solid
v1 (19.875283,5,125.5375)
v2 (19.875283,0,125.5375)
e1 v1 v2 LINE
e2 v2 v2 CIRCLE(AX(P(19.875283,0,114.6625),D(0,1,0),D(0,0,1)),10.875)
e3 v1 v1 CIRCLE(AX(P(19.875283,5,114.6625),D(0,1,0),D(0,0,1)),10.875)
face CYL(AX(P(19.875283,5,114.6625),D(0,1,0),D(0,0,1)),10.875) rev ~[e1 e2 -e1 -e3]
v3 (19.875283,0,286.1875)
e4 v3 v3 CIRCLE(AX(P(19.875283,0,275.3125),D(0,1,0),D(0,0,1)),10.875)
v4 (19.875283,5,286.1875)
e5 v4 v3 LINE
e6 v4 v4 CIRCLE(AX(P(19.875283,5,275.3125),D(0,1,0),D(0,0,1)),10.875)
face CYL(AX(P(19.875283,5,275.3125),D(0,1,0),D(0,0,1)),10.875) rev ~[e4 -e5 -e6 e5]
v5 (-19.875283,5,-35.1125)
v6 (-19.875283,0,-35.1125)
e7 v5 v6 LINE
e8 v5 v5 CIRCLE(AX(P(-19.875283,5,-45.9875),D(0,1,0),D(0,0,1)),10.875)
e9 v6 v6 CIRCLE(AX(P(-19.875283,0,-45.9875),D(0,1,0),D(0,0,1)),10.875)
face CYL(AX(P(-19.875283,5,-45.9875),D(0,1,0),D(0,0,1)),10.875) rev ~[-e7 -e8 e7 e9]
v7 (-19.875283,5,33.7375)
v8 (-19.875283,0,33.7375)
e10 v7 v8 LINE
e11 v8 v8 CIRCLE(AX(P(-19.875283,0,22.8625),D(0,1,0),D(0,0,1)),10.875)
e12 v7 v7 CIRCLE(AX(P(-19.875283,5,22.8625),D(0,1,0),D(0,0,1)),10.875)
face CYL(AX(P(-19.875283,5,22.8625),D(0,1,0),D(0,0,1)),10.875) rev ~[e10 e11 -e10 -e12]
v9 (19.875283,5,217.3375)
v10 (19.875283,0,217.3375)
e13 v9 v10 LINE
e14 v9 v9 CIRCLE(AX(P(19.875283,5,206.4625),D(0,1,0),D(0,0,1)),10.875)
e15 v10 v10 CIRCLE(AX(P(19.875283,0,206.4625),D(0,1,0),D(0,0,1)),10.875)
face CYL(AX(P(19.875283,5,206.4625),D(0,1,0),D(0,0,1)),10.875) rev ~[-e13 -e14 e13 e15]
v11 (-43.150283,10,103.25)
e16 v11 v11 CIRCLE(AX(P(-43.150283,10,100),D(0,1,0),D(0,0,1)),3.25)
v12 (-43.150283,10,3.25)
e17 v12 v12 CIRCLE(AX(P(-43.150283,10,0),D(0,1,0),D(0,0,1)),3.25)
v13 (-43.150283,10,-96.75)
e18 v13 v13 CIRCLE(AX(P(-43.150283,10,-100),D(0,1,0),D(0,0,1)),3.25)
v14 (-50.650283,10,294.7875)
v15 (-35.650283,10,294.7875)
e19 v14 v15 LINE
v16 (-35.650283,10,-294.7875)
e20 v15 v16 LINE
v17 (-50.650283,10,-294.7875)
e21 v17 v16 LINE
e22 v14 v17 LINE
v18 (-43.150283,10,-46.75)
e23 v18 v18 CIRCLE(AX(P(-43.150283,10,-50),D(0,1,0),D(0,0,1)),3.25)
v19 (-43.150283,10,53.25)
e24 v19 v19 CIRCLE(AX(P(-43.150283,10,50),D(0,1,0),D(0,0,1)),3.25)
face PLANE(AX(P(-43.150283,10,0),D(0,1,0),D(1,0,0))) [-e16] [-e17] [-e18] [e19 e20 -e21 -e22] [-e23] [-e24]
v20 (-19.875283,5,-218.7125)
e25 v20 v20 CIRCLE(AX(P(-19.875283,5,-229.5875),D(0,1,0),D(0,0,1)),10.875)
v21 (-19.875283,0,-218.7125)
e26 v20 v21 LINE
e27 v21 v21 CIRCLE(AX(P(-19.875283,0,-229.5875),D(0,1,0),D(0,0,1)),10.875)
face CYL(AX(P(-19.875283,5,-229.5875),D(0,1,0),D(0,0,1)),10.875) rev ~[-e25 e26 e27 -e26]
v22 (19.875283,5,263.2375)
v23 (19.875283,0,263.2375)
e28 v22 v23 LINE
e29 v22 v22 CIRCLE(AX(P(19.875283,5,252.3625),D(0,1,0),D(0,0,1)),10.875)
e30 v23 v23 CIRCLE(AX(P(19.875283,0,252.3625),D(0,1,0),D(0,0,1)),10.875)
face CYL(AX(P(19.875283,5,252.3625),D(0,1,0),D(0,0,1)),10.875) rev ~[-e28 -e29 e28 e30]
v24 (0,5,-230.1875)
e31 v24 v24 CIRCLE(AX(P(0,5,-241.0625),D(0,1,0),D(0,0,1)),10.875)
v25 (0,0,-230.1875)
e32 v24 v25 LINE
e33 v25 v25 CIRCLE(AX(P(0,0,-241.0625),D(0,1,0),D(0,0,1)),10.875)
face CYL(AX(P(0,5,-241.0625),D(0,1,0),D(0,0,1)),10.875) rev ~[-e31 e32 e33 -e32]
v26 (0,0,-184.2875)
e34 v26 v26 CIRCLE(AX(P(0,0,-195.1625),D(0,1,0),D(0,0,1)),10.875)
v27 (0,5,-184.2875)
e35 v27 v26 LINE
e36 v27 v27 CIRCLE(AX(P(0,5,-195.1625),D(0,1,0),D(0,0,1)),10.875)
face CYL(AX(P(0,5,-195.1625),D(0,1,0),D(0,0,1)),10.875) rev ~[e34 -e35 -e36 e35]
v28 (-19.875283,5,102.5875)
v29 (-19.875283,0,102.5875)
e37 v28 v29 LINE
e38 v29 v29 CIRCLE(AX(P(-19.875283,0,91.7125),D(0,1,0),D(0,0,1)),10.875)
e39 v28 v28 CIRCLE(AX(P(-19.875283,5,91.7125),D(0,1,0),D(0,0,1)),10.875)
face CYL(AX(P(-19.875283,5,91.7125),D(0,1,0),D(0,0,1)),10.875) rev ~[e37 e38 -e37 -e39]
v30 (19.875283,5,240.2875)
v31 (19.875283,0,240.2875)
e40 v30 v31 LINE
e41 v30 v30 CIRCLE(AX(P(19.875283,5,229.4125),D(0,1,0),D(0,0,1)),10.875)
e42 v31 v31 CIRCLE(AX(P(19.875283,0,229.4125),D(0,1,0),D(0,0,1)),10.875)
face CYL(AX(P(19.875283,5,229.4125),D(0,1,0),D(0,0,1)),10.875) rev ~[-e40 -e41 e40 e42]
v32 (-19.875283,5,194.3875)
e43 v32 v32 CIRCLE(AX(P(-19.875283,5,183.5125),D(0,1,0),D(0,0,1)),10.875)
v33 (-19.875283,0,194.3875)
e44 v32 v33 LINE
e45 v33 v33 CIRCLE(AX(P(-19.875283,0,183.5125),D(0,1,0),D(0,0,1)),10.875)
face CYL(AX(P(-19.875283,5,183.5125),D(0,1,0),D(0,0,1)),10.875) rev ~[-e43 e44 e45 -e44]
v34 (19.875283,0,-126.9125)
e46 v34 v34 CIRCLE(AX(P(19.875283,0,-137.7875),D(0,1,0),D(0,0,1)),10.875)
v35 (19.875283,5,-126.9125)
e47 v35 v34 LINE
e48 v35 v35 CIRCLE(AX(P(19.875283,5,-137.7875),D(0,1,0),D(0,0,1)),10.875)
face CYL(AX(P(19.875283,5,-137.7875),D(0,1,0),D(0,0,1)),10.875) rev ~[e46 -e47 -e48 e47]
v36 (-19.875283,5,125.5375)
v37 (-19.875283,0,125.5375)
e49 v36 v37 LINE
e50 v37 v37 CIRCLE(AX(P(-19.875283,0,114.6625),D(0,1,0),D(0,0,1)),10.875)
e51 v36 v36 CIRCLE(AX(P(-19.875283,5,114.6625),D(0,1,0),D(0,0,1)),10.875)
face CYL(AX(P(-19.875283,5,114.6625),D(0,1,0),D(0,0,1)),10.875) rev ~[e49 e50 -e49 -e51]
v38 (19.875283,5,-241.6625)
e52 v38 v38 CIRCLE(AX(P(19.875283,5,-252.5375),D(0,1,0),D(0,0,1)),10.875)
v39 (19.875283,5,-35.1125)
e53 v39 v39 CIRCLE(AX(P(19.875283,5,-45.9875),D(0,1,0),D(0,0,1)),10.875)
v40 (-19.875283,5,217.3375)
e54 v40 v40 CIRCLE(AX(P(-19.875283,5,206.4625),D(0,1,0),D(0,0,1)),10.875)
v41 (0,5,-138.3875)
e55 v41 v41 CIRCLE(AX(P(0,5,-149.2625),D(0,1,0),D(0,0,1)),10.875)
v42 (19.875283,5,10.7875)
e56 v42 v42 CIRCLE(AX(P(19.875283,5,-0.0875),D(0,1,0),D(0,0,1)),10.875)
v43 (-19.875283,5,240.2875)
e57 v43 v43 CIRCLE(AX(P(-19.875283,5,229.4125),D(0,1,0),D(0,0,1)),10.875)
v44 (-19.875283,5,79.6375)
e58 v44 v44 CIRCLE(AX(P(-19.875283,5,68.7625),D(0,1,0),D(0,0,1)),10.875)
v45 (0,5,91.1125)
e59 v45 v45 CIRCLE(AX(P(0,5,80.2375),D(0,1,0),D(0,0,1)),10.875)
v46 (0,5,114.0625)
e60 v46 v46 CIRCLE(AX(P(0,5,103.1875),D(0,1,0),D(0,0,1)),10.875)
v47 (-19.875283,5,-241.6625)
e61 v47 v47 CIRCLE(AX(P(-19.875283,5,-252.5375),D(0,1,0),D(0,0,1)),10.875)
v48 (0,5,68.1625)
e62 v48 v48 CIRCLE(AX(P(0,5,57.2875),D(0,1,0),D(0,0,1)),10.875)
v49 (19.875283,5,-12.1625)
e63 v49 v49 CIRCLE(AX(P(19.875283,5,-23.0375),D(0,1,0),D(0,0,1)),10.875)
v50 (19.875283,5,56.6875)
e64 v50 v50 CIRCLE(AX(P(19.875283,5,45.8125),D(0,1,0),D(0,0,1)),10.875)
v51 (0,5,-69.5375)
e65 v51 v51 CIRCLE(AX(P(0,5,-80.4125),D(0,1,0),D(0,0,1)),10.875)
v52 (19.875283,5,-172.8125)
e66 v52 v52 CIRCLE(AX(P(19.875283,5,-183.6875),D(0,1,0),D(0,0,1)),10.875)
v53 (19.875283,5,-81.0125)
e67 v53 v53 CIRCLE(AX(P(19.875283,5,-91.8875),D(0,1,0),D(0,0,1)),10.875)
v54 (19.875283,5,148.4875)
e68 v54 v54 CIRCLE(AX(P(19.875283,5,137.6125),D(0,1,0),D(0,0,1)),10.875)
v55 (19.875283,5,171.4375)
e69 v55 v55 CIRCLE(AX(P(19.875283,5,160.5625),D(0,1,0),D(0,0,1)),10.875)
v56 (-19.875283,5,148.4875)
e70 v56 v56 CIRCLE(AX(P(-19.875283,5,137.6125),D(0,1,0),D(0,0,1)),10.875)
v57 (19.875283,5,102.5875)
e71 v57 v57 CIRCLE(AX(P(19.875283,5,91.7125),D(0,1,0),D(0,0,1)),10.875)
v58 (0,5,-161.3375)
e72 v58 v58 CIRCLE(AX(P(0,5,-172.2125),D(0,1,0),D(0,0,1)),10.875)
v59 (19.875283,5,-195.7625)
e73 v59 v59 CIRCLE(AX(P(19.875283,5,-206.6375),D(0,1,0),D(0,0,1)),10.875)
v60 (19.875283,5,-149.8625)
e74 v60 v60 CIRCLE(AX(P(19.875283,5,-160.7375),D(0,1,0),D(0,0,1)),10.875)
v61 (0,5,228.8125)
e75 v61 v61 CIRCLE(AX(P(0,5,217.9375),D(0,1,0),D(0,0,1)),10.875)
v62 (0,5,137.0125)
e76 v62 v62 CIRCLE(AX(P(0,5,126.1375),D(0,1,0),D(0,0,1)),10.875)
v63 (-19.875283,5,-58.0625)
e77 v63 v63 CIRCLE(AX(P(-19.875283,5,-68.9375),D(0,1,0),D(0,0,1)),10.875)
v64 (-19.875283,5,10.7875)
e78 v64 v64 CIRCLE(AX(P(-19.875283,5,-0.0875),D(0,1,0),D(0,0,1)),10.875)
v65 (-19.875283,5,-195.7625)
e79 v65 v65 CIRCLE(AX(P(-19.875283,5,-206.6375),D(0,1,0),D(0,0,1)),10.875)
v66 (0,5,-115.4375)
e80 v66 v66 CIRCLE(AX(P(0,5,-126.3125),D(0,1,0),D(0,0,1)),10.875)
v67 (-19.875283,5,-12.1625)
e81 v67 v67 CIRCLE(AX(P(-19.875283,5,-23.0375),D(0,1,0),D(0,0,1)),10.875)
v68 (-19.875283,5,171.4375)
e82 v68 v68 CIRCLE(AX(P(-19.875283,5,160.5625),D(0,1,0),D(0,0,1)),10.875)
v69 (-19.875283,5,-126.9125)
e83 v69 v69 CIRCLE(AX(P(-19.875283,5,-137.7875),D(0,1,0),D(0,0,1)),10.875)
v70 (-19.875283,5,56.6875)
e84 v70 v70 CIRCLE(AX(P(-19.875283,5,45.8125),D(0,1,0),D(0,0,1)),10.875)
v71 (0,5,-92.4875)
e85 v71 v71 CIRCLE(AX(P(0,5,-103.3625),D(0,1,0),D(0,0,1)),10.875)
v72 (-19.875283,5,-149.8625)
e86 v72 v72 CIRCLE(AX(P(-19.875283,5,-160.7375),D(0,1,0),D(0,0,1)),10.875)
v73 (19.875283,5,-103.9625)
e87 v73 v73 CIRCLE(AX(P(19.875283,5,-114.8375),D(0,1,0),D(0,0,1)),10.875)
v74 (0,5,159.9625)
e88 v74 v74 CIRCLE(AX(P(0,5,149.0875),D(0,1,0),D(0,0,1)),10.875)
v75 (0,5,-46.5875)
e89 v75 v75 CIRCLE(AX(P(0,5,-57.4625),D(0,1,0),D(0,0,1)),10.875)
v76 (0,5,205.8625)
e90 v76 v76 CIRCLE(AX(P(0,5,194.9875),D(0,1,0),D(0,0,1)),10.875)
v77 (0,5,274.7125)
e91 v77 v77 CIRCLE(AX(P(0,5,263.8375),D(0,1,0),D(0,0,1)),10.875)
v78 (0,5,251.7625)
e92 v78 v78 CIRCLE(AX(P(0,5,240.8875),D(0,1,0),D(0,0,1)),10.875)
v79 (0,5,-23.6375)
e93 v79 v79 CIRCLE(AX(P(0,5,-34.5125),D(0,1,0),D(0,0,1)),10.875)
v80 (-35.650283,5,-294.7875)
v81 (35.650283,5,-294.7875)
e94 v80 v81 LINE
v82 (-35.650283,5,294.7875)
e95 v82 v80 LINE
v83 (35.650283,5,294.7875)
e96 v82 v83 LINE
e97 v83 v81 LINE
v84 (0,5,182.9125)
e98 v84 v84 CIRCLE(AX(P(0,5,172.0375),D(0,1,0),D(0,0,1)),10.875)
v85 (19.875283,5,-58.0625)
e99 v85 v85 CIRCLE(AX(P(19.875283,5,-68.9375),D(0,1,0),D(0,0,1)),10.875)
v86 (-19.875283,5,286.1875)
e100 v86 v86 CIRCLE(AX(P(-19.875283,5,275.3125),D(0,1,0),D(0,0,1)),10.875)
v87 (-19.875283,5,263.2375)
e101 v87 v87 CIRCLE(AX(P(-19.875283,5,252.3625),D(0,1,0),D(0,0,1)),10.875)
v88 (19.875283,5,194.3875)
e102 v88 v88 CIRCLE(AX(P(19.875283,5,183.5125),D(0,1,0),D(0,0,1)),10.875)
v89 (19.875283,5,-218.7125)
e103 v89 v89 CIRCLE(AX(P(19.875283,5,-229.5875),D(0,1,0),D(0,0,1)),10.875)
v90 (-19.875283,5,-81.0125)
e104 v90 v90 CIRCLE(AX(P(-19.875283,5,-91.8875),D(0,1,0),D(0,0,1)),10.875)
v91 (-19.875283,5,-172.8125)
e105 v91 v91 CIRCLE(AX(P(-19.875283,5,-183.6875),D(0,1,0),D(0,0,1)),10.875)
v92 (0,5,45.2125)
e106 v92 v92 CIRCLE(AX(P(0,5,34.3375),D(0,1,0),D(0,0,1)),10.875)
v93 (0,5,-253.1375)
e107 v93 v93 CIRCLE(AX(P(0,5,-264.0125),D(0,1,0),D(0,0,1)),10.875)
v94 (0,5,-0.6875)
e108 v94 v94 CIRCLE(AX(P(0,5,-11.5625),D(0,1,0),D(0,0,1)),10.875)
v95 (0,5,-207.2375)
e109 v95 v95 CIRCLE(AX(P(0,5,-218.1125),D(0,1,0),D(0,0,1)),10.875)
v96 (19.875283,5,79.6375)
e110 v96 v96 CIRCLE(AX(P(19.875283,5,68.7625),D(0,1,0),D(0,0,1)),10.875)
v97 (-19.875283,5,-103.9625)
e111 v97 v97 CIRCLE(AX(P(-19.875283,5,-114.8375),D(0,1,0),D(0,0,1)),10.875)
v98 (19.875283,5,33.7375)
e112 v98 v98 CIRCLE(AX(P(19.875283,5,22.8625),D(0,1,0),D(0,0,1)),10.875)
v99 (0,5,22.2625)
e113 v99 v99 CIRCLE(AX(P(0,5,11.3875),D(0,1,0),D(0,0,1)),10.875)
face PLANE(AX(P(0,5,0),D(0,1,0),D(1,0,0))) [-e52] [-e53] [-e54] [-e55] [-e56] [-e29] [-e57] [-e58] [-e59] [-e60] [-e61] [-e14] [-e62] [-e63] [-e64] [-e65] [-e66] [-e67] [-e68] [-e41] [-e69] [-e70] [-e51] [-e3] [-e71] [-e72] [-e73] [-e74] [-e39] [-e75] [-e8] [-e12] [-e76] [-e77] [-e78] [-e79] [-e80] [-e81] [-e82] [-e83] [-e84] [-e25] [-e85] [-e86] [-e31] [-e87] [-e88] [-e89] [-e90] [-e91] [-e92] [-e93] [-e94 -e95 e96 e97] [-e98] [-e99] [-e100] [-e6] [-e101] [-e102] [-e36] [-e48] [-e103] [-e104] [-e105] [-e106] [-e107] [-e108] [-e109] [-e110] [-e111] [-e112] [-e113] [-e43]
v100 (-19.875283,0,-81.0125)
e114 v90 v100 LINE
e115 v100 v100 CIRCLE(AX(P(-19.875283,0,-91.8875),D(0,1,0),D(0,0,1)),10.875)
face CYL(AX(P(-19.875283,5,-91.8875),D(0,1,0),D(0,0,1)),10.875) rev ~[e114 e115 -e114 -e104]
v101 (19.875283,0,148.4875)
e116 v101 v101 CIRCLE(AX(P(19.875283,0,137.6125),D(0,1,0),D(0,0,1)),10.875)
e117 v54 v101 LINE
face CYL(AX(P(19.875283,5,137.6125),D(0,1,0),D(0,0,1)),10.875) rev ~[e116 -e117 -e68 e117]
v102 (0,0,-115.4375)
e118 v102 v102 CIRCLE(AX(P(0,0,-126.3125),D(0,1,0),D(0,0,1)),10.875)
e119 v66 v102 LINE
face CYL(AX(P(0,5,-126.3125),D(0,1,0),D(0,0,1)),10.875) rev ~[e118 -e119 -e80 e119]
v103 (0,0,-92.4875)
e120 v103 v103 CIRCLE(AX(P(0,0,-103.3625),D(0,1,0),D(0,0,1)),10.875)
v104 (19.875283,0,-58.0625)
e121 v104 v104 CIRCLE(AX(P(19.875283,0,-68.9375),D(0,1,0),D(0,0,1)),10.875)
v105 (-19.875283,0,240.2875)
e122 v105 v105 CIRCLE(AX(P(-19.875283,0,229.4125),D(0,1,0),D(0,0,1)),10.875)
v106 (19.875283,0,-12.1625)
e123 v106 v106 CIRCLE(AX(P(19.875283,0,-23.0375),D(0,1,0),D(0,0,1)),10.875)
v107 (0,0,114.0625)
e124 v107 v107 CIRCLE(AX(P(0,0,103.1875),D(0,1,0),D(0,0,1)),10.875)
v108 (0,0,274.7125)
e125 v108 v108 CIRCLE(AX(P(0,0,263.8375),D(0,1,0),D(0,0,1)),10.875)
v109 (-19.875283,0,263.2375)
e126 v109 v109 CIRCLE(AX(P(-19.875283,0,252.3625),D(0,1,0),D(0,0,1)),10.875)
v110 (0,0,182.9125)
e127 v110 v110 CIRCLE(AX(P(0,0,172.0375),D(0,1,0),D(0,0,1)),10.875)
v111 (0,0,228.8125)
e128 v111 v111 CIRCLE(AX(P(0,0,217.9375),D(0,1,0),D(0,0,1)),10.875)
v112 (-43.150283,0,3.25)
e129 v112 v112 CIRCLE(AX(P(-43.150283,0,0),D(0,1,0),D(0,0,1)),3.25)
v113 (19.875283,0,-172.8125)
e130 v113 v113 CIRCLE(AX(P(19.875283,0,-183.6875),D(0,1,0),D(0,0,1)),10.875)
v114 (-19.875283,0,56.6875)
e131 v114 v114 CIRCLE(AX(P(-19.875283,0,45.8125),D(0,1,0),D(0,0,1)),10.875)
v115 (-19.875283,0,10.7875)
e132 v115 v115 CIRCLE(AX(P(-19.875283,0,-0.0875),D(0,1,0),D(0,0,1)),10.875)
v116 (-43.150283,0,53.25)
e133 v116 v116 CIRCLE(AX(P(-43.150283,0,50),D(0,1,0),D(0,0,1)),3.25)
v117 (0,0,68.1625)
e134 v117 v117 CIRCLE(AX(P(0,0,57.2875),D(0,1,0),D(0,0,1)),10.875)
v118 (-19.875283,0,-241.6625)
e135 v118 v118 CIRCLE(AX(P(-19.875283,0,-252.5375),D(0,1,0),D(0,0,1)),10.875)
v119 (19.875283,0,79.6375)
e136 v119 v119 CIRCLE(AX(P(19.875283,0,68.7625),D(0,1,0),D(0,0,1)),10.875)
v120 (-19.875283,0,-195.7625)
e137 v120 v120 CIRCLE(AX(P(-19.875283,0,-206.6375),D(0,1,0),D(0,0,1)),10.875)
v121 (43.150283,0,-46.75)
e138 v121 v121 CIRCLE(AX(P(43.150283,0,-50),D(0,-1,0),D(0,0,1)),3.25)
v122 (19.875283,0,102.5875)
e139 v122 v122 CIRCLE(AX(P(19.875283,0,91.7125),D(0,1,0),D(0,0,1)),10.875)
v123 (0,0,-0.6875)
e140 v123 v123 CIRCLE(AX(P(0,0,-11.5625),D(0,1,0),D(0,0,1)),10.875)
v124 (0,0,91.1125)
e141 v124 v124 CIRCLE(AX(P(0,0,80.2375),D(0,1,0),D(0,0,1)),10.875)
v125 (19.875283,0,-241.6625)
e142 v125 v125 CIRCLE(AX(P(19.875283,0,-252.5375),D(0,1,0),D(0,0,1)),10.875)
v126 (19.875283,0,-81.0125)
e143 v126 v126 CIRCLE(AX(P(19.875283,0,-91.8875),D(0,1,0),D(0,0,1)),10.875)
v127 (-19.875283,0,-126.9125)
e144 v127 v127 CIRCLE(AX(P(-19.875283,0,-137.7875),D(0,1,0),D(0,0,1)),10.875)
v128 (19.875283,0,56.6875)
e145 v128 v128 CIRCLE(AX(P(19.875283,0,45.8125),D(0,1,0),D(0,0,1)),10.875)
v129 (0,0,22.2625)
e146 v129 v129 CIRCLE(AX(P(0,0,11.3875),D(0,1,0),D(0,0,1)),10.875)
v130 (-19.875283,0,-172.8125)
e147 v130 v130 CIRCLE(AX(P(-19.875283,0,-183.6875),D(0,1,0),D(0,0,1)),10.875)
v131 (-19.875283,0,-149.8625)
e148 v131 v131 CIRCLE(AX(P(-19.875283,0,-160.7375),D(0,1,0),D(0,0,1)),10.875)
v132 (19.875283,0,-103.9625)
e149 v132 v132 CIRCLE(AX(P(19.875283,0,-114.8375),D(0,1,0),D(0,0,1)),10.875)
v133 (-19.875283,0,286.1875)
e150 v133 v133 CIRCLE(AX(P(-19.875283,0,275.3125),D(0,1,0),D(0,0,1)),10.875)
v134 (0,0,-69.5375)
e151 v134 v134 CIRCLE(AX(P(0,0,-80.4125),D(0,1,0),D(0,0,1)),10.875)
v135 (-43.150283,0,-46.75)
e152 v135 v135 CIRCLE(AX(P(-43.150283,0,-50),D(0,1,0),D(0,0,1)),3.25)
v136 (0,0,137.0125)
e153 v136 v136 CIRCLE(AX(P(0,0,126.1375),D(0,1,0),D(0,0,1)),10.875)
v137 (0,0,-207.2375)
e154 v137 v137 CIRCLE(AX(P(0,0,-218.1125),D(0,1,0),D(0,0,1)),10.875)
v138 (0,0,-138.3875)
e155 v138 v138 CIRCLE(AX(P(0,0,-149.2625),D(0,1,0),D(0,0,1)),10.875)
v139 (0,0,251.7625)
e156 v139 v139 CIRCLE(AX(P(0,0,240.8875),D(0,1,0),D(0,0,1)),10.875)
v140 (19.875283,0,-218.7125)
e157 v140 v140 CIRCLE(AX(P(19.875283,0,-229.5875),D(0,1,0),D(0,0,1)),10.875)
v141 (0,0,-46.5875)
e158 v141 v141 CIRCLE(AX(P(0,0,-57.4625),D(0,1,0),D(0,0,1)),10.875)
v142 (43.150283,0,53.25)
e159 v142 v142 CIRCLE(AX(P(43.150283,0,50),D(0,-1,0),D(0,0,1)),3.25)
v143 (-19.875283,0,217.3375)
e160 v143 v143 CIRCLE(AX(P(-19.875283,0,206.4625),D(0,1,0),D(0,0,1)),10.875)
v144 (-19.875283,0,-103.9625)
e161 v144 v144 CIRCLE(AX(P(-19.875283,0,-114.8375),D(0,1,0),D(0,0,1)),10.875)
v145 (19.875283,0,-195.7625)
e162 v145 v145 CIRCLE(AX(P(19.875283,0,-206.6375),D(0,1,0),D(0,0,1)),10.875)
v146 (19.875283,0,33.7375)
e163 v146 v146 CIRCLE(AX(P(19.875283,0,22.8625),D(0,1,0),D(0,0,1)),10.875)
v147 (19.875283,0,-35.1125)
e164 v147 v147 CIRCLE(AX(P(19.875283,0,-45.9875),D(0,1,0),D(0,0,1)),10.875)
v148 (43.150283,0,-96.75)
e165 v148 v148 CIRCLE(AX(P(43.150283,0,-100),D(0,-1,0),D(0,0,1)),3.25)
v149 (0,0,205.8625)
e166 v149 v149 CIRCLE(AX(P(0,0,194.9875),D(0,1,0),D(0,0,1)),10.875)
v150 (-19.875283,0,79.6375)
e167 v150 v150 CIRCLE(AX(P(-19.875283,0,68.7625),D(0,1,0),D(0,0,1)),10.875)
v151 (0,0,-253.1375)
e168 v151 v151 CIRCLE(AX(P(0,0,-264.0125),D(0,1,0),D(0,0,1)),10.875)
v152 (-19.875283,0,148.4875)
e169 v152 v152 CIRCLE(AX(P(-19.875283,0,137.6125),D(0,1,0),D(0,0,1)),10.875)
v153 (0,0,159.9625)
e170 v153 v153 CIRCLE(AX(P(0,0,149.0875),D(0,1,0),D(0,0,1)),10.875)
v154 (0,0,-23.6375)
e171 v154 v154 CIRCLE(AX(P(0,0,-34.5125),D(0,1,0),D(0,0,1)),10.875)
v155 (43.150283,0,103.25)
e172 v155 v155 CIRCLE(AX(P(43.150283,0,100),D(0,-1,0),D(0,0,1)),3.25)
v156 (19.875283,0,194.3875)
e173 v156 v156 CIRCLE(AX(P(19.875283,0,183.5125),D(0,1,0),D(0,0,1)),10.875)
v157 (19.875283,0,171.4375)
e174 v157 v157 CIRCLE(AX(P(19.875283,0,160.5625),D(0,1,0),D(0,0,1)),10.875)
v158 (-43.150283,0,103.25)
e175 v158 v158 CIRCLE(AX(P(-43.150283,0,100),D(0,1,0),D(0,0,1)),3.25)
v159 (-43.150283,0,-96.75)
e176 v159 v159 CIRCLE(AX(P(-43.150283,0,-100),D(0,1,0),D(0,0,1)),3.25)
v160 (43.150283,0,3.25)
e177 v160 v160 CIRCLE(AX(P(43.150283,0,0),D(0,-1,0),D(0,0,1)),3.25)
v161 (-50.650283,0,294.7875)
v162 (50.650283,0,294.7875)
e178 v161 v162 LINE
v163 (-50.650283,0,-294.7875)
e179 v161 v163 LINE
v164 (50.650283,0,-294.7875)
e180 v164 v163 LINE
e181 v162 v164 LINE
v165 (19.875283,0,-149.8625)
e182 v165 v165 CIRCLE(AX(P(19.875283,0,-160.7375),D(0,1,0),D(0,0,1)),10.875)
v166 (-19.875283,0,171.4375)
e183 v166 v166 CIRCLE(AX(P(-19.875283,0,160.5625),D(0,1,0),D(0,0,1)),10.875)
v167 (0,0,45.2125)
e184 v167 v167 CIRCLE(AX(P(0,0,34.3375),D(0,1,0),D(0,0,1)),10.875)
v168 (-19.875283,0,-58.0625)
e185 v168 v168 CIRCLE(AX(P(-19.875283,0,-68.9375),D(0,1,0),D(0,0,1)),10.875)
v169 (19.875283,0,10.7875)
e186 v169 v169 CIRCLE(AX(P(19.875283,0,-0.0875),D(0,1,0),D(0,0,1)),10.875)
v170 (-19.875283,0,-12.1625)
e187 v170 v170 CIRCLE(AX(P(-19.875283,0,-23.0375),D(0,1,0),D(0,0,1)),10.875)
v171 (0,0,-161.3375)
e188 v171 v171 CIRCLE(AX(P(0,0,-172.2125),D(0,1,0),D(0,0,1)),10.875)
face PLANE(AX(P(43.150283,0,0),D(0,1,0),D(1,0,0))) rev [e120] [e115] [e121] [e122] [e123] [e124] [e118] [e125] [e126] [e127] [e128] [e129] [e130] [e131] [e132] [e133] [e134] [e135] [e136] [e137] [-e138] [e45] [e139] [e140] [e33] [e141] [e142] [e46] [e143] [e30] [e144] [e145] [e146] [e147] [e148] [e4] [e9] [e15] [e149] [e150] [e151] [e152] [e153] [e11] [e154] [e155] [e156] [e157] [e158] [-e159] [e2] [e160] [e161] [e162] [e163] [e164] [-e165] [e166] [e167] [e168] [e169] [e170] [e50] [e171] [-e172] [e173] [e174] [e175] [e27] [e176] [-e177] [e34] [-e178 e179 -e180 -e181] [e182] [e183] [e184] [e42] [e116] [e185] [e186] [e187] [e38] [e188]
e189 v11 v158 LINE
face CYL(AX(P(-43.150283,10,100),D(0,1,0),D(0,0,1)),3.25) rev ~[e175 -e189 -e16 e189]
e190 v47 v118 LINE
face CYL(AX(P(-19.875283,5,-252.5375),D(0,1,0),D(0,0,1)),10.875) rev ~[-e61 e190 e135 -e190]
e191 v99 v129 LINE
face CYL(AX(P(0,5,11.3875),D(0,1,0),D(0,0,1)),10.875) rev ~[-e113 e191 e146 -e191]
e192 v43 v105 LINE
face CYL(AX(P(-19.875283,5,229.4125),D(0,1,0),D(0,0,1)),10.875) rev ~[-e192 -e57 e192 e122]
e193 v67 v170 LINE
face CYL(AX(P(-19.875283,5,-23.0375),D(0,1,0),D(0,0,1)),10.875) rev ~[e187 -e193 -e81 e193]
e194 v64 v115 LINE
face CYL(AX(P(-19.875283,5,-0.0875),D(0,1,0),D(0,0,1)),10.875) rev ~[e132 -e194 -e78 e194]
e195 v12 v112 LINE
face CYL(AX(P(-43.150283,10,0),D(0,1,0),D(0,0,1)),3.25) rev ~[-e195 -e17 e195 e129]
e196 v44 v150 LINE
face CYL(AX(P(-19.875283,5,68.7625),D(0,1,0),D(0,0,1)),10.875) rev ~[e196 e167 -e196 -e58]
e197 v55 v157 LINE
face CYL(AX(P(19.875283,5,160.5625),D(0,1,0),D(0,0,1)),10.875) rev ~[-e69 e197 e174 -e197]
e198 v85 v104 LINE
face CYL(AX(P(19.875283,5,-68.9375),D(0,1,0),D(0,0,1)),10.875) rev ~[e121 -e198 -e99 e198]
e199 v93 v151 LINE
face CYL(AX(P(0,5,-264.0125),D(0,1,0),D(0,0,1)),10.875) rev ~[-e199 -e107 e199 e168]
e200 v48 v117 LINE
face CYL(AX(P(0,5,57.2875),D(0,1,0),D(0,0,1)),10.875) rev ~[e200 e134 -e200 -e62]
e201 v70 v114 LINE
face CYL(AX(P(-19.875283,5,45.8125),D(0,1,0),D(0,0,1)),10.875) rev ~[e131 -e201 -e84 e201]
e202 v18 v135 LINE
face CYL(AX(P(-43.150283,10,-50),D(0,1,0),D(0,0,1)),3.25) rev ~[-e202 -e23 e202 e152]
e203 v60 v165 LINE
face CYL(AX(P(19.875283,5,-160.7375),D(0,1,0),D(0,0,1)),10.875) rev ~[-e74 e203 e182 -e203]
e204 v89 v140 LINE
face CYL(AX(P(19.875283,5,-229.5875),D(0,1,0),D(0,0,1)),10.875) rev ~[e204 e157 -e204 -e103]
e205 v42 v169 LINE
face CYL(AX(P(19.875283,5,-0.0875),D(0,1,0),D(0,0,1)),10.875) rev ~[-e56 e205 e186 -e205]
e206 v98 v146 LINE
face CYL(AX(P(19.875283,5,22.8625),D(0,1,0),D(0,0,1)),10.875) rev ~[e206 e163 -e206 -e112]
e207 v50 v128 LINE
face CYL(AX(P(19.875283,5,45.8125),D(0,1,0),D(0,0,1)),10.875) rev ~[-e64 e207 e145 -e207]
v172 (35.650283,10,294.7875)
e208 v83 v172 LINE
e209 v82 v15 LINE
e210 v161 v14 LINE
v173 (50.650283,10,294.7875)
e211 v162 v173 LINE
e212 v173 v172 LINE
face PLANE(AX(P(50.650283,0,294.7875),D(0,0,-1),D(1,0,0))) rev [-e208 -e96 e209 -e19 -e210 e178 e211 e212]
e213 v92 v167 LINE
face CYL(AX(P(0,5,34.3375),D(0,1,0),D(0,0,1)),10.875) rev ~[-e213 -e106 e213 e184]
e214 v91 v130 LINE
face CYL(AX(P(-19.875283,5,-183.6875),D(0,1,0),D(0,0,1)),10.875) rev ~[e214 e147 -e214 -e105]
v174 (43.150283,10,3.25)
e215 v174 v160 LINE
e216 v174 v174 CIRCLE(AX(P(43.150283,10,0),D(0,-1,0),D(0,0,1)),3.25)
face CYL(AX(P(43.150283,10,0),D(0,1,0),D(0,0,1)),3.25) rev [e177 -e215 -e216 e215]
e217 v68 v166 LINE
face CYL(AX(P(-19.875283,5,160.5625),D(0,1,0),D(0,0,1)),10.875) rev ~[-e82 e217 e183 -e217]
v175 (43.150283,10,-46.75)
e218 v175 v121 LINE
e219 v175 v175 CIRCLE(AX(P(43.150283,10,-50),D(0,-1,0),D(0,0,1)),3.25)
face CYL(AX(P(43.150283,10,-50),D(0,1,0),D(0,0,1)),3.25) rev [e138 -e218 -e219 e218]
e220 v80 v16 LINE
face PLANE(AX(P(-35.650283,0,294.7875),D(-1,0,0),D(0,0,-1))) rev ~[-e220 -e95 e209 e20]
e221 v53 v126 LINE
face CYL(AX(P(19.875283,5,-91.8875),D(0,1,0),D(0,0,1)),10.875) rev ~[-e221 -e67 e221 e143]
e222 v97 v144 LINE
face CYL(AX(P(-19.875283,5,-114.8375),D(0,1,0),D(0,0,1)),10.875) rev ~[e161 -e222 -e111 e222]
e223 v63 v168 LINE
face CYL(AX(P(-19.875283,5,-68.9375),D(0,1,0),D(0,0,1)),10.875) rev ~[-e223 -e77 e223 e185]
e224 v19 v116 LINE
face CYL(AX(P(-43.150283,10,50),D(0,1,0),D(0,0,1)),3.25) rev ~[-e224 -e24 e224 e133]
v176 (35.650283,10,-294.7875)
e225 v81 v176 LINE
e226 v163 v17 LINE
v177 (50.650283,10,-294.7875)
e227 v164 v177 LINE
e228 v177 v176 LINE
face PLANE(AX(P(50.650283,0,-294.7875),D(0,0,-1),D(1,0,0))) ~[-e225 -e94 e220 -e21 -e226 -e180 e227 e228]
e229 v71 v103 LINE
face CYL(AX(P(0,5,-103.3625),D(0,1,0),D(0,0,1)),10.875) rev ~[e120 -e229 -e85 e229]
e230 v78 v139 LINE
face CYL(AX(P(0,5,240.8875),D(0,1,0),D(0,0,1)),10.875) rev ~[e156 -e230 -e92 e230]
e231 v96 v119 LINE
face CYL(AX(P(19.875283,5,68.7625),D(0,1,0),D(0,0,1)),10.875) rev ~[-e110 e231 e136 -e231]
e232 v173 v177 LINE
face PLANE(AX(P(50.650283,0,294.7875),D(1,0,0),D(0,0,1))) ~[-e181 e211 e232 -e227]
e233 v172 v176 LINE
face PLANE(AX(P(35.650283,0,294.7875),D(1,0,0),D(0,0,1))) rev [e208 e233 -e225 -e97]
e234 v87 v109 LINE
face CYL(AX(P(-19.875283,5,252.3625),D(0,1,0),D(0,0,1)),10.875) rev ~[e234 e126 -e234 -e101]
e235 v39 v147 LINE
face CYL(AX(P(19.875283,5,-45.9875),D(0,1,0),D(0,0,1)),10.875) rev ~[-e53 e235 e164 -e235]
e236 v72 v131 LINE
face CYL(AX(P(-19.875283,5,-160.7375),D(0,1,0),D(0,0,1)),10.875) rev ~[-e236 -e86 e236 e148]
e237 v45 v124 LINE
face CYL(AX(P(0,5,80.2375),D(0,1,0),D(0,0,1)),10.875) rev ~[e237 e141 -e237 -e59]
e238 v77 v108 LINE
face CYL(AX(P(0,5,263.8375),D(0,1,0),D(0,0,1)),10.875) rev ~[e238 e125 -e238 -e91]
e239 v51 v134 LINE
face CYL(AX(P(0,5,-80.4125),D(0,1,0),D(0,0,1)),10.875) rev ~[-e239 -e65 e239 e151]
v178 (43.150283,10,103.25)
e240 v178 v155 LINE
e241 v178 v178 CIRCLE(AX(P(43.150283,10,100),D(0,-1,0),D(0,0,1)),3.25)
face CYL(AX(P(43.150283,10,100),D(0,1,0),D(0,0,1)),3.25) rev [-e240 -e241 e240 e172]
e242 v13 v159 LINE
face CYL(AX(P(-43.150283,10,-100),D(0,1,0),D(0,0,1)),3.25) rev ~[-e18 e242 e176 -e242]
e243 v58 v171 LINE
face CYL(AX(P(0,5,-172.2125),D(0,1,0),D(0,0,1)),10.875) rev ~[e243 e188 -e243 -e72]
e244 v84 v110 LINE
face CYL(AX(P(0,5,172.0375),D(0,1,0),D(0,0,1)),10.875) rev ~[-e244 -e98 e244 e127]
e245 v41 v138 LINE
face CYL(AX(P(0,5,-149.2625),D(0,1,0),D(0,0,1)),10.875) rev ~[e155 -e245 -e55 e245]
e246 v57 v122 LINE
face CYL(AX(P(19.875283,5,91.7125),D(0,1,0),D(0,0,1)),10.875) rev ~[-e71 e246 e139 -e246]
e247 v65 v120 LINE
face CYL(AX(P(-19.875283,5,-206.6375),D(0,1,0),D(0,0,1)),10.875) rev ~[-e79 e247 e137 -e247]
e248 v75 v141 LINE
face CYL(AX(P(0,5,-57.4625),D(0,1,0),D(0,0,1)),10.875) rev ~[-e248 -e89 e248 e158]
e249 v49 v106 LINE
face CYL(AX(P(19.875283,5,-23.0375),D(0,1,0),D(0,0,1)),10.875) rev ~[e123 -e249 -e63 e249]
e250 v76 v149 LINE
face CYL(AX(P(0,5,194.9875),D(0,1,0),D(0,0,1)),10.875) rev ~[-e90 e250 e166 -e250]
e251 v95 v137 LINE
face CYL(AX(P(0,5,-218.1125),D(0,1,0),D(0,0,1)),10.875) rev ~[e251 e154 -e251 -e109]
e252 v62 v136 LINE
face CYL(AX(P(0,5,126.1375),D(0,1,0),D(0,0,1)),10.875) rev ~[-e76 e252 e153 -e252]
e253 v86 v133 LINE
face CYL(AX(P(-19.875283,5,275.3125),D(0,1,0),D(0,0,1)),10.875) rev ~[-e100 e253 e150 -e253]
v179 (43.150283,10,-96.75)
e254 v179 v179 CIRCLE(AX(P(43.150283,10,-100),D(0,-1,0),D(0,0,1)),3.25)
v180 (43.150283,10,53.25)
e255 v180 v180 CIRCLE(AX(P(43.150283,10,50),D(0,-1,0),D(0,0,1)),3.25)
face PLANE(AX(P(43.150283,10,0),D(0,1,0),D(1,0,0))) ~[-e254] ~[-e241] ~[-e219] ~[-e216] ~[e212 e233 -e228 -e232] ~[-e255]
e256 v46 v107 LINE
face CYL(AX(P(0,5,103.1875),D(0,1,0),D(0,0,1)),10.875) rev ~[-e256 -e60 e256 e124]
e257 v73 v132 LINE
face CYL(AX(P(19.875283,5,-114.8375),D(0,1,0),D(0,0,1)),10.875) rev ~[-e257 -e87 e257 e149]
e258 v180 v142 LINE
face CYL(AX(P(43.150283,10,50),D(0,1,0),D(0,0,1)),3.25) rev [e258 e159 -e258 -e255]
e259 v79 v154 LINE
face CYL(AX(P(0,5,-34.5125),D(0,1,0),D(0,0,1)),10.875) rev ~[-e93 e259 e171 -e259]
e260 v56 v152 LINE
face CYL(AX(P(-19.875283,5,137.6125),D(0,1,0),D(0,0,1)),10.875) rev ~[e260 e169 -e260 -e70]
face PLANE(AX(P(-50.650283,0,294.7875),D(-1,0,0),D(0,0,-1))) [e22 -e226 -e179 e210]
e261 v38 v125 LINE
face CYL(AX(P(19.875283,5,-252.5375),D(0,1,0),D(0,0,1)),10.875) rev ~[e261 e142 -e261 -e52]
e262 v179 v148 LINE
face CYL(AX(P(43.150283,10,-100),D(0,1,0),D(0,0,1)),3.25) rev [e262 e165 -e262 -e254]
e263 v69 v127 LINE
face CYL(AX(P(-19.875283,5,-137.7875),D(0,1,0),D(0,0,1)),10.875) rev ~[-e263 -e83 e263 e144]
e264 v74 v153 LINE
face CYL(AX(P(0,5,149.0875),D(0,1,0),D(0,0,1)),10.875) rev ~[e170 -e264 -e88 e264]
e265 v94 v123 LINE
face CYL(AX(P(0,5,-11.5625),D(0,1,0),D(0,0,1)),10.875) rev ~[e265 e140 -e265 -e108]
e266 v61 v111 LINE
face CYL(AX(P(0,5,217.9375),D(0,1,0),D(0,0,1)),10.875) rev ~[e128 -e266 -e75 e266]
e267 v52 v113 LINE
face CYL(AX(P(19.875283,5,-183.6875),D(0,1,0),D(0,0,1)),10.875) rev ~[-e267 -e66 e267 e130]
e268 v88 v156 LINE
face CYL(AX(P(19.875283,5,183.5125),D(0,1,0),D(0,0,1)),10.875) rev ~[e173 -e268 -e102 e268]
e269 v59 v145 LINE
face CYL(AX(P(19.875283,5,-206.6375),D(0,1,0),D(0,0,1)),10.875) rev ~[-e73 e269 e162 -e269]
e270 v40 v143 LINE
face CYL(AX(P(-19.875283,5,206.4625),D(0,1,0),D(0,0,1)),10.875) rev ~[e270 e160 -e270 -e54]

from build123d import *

# Parameters (mm, degrees)
CELL_BLOCK_SKETCH_W = 71.300566034
CELL_BLOCK_SKETCH_H = 589.575
BOSS_EXTRUDE1_DEPTH = 5
SKETCH1_R           = 10.875
CUT_EXTRUDE2_DEPTH  = 5
SKETCH3_W           = 15
SKETCH3_H           = 589.575
BOSS_EXTRUDE3_DEPTH = 10
SKETCH4_R           = 3.25
CUT_EXTRUDE3_DEPTH  = 10


with BuildPart() as part:
    # Cell Block Sketch → Boss-Extrude1 (new body)
    with BuildSketch(Plane(origin=(0, 0, 0), x_dir=(1, 0, 0), z_dir=(0, 1, 0))):
        Rectangle(CELL_BLOCK_SKETCH_W, CELL_BLOCK_SKETCH_H)
    extrude(amount=BOSS_EXTRUDE1_DEPTH)

    # Sketch1 → Cut-Extrude2 (cut)
    with BuildSketch(Plane(origin=(0, 5, 0), x_dir=(1, 0, 0), z_dir=(0, 1, 0))):
        with Locations(Location((-19.875283017, 252.5375, 0), (0, 0, 270))):
            Circle(SKETCH1_R)
        with Locations(Location((0, 264.0125, 0), (0, 0, 270))):
            Circle(SKETCH1_R)
        with Locations(Location((19.875283017, 252.5375, 0), (0, 0, 270))):
            Circle(SKETCH1_R)
        with Locations(Location((-19.875283017, 229.5875, 0), (0, 0, 270))):
            Circle(SKETCH1_R)
        with Locations(Location((0, 241.0625, 0), (0, 0, 270))):
            Circle(SKETCH1_R)
        with Locations(Location((19.875283017, 229.5875, 0), (0, 0, 270))):
            Circle(SKETCH1_R)
        with Locations(Location((-19.875283017, 206.6375, 0), (0, 0, 270))):
            Circle(SKETCH1_R)
        with Locations(Location((0, 218.1125, 0), (0, 0, 270))):
            Circle(SKETCH1_R)
        with Locations(Location((19.875283017, 206.6375, 0), (0, 0, 270))):
            Circle(SKETCH1_R)
        with Locations(Location((-19.875283017, 183.6875, 0), (0, 0, 270))):
            Circle(SKETCH1_R)
        with Locations(Location((0, 195.1625, 0), (0, 0, 270))):
            Circle(SKETCH1_R)
        with Locations(Location((19.875283017, 183.6875, 0), (0, 0, 270))):
            Circle(SKETCH1_R)
        with Locations(Location((-19.875283017, 160.7375, 0), (0, 0, 270))):
            Circle(SKETCH1_R)
        with Locations(Location((0, 172.2125, 0), (0, 0, 270))):
            Circle(SKETCH1_R)
        with Locations(Location((19.875283017, 160.7375, 0), (0, 0, 270))):
            Circle(SKETCH1_R)
        with Locations(Location((-19.875283017, 137.7875, 0), (0, 0, 270))):
            Circle(SKETCH1_R)
        with Locations(Location((0, 149.2625, 0), (0, 0, 270))):
            Circle(SKETCH1_R)
        with Locations(Location((19.875283017, 137.7875, 0), (0, 0, 270))):
            Circle(SKETCH1_R)
        with Locations(Location((-19.875283017, 114.8375, 0), (0, 0, 270))):
            Circle(SKETCH1_R)
        with Locations(Location((0, 126.3125, 0), (0, 0, 270))):
            Circle(SKETCH1_R)
        with Locations(Location((19.875283017, 114.8375, 0), (0, 0, 270))):
            Circle(SKETCH1_R)
        with Locations(Location((-19.875283017, 91.8875, 0), (0, 0, 270))):
            Circle(SKETCH1_R)
        with Locations(Location((0, 103.3625, 0), (0, 0, 270))):
            Circle(SKETCH1_R)
        with Locations(Location((19.875283017, 91.8875, 0), (0, 0, 270))):
            Circle(SKETCH1_R)
        with Locations(Location((-19.875283017, 68.9375, 0), (0, 0, 270))):
            Circle(SKETCH1_R)
        with Locations(Location((0, 80.4125, 0), (0, 0, 270))):
            Circle(SKETCH1_R)
        with Locations(Location((19.875283017, 68.9375, 0), (0, 0, 270))):
            Circle(SKETCH1_R)
        with Locations(Location((-19.875283017, 45.9875, 0), (0, 0, 270))):
            Circle(SKETCH1_R)
        with Locations(Location((0, 57.4625, 0), (0, 0, 270))):
            Circle(SKETCH1_R)
        with Locations(Location((19.875283017, 45.9875, 0), (0, 0, 270))):
            Circle(SKETCH1_R)
        with Locations(Location((-19.875283017, 23.0375, 0), (0, 0, 270))):
            Circle(SKETCH1_R)
        with Locations(Location((0, 34.5125, 0), (0, 0, 270))):
            Circle(SKETCH1_R)
        with Locations(Location((19.875283017, 23.0375, 0), (0, 0, 270))):
            Circle(SKETCH1_R)
        with Locations(Location((-19.875283017, 0.0875, 0), (0, 0, 270))):
            Circle(SKETCH1_R)
        with Locations(Location((0, 11.5625, 0), (0, 0, 270))):
            Circle(SKETCH1_R)
        with Locations(Location((19.875283017, 0.0875, 0), (0, 0, 270))):
            Circle(SKETCH1_R)
        with Locations(Location((-19.875283017, -22.8625, 0), (0, 0, 270))):
            Circle(SKETCH1_R)
        with Locations(Location((0, -11.3875, 0), (0, 0, 270))):
            Circle(SKETCH1_R)
        with Locations(Location((19.875283017, -22.8625, 0), (0, 0, 270))):
            Circle(SKETCH1_R)
        with Locations(Location((-19.875283017, -45.8125, 0), (0, 0, 270))):
            Circle(SKETCH1_R)
        with Locations(Location((0, -34.3375, 0), (0, 0, 270))):
            Circle(SKETCH1_R)
        with Locations(Location((19.875283017, -45.8125, 0), (0, 0, 270))):
            Circle(SKETCH1_R)
        with Locations(Location((-19.875283017, -68.7625, 0), (0, 0, 270))):
            Circle(SKETCH1_R)
        with Locations(Location((0, -57.2875, 0), (0, 0, 270))):
            Circle(SKETCH1_R)
        with Locations(Location((19.875283017, -68.7625, 0), (0, 0, 270))):
            Circle(SKETCH1_R)
        with Locations(Location((-19.875283017, -91.7125, 0), (0, 0, 270))):
            Circle(SKETCH1_R)
        with Locations(Location((0, -80.2375, 0), (0, 0, 270))):
            Circle(SKETCH1_R)
        with Locations(Location((19.875283017, -91.7125, 0), (0, 0, 270))):
            Circle(SKETCH1_R)
        with Locations(Location((-19.875283017, -114.6625, 0), (0, 0, 270))):
            Circle(SKETCH1_R)
        with Locations(Location((0, -103.1875, 0), (0, 0, 270))):
            Circle(SKETCH1_R)
        with Locations(Location((19.875283017, -114.6625, 0), (0, 0, 270))):
            Circle(SKETCH1_R)
        with Locations(Location((-19.875283017, -137.6125, 0), (0, 0, 270))):
            Circle(SKETCH1_R)
        with Locations(Location((0, -126.1375, 0), (0, 0, 270))):
            Circle(SKETCH1_R)
        with Locations(Location((19.875283017, -137.6125, 0), (0, 0, 270))):
            Circle(SKETCH1_R)
        with Locations(Location((-19.875283017, -160.5625, 0), (0, 0, 270))):
            Circle(SKETCH1_R)
        with Locations(Location((0, -149.0875, 0), (0, 0, 270))):
            Circle(SKETCH1_R)
        with Locations(Location((19.875283017, -160.5625, 0), (0, 0, 270))):
            Circle(SKETCH1_R)
        with Locations(Location((-19.875283017, -183.5125, 0), (0, 0, 270))):
            Circle(SKETCH1_R)
        with Locations(Location((0, -172.0375, 0), (0, 0, 270))):
            Circle(SKETCH1_R)
        with Locations(Location((19.875283017, -183.5125, 0), (0, 0, 270))):
            Circle(SKETCH1_R)
        with Locations(Location((-19.875283017, -206.4625, 0), (0, 0, 270))):
            Circle(SKETCH1_R)
        with Locations(Location((0, -194.9875, 0), (0, 0, 270))):
            Circle(SKETCH1_R)
        with Locations(Location((19.875283017, -206.4625, 0), (0, 0, 270))):
            Circle(SKETCH1_R)
        with Locations(Location((-19.875283017, -229.4125, 0), (0, 0, 270))):
            Circle(SKETCH1_R)
        with Locations(Location((0, -217.9375, 0), (0, 0, 270))):
            Circle(SKETCH1_R)
        with Locations(Location((19.875283017, -229.4125, 0), (0, 0, 270))):
            Circle(SKETCH1_R)
        with Locations(Location((-19.875283017, -252.3625, 0), (0, 0, 270))):
            Circle(SKETCH1_R)
        with Locations(Location((0, -240.8875, 0), (0, 0, 270))):
            Circle(SKETCH1_R)
        with Locations(Location((19.875283017, -252.3625, 0), (0, 0, 270))):
            Circle(SKETCH1_R)
        with Locations(Location((-19.875283017, -275.3125, 0), (0, 0, 270))):
            Circle(SKETCH1_R)
        with Locations(Location((0, -263.8375, 0), (0, 0, 270))):
            Circle(SKETCH1_R)
        with Locations(Location((19.875283017, -275.3125, 0), (0, 0, 270))):
            Circle(SKETCH1_R)
    extrude(amount=-CUT_EXTRUDE2_DEPTH, mode=Mode.SUBTRACT)

    # Sketch3 → Boss-Extrude3 (add)
    with BuildSketch(Plane(origin=(0, 0, 0), x_dir=(1, 0, 0), z_dir=(0, 1, 0))):
        with Locations((-43.150283017, 0)):
            Rectangle(SKETCH3_W, SKETCH3_H)
    boss_extrude3 = extrude(amount=BOSS_EXTRUDE3_DEPTH)

    # Mirror1: Boss-Extrude3 across plane
    add(boss_extrude3.mirror(Plane(origin=(0, 0, 0), x_dir=(0, 0, 1), z_dir=(1, 0, 0))))

    # Sketch4 → Cut-Extrude3 (cut)
    with BuildSketch(Plane(origin=(0, 10, 0), x_dir=(1, 0, 0), z_dir=(0, 1, 0))):
        with Locations(Location((-43.150283017, 0, 0), (0, 0, 270))):
            Circle(SKETCH4_R)
        with Locations(Location((-43.150283017, -50, 0), (0, 0, 270))):
            Circle(SKETCH4_R)
        with Locations(Location((-43.150283017, -100, 0), (0, 0, 270))):
            Circle(SKETCH4_R)
        with Locations(Location((-43.150283017, 50, 0), (0, 0, 270))):
            Circle(SKETCH4_R)
        with Locations(Location((-43.150283017, 100, 0), (0, 0, 270))):
            Circle(SKETCH4_R)
    cut_extrude3 = extrude(amount=-CUT_EXTRUDE3_DEPTH, mode=Mode.SUBTRACT)

    # Mirror2: Cut-Extrude3 across plane
    add(cut_extrude3.mirror(Plane(origin=(0, 0, 0), x_dir=(0, 0, 1), z_dir=(1, 0, 0))), mode=Mode.SUBTRACT)


solid = part.part
